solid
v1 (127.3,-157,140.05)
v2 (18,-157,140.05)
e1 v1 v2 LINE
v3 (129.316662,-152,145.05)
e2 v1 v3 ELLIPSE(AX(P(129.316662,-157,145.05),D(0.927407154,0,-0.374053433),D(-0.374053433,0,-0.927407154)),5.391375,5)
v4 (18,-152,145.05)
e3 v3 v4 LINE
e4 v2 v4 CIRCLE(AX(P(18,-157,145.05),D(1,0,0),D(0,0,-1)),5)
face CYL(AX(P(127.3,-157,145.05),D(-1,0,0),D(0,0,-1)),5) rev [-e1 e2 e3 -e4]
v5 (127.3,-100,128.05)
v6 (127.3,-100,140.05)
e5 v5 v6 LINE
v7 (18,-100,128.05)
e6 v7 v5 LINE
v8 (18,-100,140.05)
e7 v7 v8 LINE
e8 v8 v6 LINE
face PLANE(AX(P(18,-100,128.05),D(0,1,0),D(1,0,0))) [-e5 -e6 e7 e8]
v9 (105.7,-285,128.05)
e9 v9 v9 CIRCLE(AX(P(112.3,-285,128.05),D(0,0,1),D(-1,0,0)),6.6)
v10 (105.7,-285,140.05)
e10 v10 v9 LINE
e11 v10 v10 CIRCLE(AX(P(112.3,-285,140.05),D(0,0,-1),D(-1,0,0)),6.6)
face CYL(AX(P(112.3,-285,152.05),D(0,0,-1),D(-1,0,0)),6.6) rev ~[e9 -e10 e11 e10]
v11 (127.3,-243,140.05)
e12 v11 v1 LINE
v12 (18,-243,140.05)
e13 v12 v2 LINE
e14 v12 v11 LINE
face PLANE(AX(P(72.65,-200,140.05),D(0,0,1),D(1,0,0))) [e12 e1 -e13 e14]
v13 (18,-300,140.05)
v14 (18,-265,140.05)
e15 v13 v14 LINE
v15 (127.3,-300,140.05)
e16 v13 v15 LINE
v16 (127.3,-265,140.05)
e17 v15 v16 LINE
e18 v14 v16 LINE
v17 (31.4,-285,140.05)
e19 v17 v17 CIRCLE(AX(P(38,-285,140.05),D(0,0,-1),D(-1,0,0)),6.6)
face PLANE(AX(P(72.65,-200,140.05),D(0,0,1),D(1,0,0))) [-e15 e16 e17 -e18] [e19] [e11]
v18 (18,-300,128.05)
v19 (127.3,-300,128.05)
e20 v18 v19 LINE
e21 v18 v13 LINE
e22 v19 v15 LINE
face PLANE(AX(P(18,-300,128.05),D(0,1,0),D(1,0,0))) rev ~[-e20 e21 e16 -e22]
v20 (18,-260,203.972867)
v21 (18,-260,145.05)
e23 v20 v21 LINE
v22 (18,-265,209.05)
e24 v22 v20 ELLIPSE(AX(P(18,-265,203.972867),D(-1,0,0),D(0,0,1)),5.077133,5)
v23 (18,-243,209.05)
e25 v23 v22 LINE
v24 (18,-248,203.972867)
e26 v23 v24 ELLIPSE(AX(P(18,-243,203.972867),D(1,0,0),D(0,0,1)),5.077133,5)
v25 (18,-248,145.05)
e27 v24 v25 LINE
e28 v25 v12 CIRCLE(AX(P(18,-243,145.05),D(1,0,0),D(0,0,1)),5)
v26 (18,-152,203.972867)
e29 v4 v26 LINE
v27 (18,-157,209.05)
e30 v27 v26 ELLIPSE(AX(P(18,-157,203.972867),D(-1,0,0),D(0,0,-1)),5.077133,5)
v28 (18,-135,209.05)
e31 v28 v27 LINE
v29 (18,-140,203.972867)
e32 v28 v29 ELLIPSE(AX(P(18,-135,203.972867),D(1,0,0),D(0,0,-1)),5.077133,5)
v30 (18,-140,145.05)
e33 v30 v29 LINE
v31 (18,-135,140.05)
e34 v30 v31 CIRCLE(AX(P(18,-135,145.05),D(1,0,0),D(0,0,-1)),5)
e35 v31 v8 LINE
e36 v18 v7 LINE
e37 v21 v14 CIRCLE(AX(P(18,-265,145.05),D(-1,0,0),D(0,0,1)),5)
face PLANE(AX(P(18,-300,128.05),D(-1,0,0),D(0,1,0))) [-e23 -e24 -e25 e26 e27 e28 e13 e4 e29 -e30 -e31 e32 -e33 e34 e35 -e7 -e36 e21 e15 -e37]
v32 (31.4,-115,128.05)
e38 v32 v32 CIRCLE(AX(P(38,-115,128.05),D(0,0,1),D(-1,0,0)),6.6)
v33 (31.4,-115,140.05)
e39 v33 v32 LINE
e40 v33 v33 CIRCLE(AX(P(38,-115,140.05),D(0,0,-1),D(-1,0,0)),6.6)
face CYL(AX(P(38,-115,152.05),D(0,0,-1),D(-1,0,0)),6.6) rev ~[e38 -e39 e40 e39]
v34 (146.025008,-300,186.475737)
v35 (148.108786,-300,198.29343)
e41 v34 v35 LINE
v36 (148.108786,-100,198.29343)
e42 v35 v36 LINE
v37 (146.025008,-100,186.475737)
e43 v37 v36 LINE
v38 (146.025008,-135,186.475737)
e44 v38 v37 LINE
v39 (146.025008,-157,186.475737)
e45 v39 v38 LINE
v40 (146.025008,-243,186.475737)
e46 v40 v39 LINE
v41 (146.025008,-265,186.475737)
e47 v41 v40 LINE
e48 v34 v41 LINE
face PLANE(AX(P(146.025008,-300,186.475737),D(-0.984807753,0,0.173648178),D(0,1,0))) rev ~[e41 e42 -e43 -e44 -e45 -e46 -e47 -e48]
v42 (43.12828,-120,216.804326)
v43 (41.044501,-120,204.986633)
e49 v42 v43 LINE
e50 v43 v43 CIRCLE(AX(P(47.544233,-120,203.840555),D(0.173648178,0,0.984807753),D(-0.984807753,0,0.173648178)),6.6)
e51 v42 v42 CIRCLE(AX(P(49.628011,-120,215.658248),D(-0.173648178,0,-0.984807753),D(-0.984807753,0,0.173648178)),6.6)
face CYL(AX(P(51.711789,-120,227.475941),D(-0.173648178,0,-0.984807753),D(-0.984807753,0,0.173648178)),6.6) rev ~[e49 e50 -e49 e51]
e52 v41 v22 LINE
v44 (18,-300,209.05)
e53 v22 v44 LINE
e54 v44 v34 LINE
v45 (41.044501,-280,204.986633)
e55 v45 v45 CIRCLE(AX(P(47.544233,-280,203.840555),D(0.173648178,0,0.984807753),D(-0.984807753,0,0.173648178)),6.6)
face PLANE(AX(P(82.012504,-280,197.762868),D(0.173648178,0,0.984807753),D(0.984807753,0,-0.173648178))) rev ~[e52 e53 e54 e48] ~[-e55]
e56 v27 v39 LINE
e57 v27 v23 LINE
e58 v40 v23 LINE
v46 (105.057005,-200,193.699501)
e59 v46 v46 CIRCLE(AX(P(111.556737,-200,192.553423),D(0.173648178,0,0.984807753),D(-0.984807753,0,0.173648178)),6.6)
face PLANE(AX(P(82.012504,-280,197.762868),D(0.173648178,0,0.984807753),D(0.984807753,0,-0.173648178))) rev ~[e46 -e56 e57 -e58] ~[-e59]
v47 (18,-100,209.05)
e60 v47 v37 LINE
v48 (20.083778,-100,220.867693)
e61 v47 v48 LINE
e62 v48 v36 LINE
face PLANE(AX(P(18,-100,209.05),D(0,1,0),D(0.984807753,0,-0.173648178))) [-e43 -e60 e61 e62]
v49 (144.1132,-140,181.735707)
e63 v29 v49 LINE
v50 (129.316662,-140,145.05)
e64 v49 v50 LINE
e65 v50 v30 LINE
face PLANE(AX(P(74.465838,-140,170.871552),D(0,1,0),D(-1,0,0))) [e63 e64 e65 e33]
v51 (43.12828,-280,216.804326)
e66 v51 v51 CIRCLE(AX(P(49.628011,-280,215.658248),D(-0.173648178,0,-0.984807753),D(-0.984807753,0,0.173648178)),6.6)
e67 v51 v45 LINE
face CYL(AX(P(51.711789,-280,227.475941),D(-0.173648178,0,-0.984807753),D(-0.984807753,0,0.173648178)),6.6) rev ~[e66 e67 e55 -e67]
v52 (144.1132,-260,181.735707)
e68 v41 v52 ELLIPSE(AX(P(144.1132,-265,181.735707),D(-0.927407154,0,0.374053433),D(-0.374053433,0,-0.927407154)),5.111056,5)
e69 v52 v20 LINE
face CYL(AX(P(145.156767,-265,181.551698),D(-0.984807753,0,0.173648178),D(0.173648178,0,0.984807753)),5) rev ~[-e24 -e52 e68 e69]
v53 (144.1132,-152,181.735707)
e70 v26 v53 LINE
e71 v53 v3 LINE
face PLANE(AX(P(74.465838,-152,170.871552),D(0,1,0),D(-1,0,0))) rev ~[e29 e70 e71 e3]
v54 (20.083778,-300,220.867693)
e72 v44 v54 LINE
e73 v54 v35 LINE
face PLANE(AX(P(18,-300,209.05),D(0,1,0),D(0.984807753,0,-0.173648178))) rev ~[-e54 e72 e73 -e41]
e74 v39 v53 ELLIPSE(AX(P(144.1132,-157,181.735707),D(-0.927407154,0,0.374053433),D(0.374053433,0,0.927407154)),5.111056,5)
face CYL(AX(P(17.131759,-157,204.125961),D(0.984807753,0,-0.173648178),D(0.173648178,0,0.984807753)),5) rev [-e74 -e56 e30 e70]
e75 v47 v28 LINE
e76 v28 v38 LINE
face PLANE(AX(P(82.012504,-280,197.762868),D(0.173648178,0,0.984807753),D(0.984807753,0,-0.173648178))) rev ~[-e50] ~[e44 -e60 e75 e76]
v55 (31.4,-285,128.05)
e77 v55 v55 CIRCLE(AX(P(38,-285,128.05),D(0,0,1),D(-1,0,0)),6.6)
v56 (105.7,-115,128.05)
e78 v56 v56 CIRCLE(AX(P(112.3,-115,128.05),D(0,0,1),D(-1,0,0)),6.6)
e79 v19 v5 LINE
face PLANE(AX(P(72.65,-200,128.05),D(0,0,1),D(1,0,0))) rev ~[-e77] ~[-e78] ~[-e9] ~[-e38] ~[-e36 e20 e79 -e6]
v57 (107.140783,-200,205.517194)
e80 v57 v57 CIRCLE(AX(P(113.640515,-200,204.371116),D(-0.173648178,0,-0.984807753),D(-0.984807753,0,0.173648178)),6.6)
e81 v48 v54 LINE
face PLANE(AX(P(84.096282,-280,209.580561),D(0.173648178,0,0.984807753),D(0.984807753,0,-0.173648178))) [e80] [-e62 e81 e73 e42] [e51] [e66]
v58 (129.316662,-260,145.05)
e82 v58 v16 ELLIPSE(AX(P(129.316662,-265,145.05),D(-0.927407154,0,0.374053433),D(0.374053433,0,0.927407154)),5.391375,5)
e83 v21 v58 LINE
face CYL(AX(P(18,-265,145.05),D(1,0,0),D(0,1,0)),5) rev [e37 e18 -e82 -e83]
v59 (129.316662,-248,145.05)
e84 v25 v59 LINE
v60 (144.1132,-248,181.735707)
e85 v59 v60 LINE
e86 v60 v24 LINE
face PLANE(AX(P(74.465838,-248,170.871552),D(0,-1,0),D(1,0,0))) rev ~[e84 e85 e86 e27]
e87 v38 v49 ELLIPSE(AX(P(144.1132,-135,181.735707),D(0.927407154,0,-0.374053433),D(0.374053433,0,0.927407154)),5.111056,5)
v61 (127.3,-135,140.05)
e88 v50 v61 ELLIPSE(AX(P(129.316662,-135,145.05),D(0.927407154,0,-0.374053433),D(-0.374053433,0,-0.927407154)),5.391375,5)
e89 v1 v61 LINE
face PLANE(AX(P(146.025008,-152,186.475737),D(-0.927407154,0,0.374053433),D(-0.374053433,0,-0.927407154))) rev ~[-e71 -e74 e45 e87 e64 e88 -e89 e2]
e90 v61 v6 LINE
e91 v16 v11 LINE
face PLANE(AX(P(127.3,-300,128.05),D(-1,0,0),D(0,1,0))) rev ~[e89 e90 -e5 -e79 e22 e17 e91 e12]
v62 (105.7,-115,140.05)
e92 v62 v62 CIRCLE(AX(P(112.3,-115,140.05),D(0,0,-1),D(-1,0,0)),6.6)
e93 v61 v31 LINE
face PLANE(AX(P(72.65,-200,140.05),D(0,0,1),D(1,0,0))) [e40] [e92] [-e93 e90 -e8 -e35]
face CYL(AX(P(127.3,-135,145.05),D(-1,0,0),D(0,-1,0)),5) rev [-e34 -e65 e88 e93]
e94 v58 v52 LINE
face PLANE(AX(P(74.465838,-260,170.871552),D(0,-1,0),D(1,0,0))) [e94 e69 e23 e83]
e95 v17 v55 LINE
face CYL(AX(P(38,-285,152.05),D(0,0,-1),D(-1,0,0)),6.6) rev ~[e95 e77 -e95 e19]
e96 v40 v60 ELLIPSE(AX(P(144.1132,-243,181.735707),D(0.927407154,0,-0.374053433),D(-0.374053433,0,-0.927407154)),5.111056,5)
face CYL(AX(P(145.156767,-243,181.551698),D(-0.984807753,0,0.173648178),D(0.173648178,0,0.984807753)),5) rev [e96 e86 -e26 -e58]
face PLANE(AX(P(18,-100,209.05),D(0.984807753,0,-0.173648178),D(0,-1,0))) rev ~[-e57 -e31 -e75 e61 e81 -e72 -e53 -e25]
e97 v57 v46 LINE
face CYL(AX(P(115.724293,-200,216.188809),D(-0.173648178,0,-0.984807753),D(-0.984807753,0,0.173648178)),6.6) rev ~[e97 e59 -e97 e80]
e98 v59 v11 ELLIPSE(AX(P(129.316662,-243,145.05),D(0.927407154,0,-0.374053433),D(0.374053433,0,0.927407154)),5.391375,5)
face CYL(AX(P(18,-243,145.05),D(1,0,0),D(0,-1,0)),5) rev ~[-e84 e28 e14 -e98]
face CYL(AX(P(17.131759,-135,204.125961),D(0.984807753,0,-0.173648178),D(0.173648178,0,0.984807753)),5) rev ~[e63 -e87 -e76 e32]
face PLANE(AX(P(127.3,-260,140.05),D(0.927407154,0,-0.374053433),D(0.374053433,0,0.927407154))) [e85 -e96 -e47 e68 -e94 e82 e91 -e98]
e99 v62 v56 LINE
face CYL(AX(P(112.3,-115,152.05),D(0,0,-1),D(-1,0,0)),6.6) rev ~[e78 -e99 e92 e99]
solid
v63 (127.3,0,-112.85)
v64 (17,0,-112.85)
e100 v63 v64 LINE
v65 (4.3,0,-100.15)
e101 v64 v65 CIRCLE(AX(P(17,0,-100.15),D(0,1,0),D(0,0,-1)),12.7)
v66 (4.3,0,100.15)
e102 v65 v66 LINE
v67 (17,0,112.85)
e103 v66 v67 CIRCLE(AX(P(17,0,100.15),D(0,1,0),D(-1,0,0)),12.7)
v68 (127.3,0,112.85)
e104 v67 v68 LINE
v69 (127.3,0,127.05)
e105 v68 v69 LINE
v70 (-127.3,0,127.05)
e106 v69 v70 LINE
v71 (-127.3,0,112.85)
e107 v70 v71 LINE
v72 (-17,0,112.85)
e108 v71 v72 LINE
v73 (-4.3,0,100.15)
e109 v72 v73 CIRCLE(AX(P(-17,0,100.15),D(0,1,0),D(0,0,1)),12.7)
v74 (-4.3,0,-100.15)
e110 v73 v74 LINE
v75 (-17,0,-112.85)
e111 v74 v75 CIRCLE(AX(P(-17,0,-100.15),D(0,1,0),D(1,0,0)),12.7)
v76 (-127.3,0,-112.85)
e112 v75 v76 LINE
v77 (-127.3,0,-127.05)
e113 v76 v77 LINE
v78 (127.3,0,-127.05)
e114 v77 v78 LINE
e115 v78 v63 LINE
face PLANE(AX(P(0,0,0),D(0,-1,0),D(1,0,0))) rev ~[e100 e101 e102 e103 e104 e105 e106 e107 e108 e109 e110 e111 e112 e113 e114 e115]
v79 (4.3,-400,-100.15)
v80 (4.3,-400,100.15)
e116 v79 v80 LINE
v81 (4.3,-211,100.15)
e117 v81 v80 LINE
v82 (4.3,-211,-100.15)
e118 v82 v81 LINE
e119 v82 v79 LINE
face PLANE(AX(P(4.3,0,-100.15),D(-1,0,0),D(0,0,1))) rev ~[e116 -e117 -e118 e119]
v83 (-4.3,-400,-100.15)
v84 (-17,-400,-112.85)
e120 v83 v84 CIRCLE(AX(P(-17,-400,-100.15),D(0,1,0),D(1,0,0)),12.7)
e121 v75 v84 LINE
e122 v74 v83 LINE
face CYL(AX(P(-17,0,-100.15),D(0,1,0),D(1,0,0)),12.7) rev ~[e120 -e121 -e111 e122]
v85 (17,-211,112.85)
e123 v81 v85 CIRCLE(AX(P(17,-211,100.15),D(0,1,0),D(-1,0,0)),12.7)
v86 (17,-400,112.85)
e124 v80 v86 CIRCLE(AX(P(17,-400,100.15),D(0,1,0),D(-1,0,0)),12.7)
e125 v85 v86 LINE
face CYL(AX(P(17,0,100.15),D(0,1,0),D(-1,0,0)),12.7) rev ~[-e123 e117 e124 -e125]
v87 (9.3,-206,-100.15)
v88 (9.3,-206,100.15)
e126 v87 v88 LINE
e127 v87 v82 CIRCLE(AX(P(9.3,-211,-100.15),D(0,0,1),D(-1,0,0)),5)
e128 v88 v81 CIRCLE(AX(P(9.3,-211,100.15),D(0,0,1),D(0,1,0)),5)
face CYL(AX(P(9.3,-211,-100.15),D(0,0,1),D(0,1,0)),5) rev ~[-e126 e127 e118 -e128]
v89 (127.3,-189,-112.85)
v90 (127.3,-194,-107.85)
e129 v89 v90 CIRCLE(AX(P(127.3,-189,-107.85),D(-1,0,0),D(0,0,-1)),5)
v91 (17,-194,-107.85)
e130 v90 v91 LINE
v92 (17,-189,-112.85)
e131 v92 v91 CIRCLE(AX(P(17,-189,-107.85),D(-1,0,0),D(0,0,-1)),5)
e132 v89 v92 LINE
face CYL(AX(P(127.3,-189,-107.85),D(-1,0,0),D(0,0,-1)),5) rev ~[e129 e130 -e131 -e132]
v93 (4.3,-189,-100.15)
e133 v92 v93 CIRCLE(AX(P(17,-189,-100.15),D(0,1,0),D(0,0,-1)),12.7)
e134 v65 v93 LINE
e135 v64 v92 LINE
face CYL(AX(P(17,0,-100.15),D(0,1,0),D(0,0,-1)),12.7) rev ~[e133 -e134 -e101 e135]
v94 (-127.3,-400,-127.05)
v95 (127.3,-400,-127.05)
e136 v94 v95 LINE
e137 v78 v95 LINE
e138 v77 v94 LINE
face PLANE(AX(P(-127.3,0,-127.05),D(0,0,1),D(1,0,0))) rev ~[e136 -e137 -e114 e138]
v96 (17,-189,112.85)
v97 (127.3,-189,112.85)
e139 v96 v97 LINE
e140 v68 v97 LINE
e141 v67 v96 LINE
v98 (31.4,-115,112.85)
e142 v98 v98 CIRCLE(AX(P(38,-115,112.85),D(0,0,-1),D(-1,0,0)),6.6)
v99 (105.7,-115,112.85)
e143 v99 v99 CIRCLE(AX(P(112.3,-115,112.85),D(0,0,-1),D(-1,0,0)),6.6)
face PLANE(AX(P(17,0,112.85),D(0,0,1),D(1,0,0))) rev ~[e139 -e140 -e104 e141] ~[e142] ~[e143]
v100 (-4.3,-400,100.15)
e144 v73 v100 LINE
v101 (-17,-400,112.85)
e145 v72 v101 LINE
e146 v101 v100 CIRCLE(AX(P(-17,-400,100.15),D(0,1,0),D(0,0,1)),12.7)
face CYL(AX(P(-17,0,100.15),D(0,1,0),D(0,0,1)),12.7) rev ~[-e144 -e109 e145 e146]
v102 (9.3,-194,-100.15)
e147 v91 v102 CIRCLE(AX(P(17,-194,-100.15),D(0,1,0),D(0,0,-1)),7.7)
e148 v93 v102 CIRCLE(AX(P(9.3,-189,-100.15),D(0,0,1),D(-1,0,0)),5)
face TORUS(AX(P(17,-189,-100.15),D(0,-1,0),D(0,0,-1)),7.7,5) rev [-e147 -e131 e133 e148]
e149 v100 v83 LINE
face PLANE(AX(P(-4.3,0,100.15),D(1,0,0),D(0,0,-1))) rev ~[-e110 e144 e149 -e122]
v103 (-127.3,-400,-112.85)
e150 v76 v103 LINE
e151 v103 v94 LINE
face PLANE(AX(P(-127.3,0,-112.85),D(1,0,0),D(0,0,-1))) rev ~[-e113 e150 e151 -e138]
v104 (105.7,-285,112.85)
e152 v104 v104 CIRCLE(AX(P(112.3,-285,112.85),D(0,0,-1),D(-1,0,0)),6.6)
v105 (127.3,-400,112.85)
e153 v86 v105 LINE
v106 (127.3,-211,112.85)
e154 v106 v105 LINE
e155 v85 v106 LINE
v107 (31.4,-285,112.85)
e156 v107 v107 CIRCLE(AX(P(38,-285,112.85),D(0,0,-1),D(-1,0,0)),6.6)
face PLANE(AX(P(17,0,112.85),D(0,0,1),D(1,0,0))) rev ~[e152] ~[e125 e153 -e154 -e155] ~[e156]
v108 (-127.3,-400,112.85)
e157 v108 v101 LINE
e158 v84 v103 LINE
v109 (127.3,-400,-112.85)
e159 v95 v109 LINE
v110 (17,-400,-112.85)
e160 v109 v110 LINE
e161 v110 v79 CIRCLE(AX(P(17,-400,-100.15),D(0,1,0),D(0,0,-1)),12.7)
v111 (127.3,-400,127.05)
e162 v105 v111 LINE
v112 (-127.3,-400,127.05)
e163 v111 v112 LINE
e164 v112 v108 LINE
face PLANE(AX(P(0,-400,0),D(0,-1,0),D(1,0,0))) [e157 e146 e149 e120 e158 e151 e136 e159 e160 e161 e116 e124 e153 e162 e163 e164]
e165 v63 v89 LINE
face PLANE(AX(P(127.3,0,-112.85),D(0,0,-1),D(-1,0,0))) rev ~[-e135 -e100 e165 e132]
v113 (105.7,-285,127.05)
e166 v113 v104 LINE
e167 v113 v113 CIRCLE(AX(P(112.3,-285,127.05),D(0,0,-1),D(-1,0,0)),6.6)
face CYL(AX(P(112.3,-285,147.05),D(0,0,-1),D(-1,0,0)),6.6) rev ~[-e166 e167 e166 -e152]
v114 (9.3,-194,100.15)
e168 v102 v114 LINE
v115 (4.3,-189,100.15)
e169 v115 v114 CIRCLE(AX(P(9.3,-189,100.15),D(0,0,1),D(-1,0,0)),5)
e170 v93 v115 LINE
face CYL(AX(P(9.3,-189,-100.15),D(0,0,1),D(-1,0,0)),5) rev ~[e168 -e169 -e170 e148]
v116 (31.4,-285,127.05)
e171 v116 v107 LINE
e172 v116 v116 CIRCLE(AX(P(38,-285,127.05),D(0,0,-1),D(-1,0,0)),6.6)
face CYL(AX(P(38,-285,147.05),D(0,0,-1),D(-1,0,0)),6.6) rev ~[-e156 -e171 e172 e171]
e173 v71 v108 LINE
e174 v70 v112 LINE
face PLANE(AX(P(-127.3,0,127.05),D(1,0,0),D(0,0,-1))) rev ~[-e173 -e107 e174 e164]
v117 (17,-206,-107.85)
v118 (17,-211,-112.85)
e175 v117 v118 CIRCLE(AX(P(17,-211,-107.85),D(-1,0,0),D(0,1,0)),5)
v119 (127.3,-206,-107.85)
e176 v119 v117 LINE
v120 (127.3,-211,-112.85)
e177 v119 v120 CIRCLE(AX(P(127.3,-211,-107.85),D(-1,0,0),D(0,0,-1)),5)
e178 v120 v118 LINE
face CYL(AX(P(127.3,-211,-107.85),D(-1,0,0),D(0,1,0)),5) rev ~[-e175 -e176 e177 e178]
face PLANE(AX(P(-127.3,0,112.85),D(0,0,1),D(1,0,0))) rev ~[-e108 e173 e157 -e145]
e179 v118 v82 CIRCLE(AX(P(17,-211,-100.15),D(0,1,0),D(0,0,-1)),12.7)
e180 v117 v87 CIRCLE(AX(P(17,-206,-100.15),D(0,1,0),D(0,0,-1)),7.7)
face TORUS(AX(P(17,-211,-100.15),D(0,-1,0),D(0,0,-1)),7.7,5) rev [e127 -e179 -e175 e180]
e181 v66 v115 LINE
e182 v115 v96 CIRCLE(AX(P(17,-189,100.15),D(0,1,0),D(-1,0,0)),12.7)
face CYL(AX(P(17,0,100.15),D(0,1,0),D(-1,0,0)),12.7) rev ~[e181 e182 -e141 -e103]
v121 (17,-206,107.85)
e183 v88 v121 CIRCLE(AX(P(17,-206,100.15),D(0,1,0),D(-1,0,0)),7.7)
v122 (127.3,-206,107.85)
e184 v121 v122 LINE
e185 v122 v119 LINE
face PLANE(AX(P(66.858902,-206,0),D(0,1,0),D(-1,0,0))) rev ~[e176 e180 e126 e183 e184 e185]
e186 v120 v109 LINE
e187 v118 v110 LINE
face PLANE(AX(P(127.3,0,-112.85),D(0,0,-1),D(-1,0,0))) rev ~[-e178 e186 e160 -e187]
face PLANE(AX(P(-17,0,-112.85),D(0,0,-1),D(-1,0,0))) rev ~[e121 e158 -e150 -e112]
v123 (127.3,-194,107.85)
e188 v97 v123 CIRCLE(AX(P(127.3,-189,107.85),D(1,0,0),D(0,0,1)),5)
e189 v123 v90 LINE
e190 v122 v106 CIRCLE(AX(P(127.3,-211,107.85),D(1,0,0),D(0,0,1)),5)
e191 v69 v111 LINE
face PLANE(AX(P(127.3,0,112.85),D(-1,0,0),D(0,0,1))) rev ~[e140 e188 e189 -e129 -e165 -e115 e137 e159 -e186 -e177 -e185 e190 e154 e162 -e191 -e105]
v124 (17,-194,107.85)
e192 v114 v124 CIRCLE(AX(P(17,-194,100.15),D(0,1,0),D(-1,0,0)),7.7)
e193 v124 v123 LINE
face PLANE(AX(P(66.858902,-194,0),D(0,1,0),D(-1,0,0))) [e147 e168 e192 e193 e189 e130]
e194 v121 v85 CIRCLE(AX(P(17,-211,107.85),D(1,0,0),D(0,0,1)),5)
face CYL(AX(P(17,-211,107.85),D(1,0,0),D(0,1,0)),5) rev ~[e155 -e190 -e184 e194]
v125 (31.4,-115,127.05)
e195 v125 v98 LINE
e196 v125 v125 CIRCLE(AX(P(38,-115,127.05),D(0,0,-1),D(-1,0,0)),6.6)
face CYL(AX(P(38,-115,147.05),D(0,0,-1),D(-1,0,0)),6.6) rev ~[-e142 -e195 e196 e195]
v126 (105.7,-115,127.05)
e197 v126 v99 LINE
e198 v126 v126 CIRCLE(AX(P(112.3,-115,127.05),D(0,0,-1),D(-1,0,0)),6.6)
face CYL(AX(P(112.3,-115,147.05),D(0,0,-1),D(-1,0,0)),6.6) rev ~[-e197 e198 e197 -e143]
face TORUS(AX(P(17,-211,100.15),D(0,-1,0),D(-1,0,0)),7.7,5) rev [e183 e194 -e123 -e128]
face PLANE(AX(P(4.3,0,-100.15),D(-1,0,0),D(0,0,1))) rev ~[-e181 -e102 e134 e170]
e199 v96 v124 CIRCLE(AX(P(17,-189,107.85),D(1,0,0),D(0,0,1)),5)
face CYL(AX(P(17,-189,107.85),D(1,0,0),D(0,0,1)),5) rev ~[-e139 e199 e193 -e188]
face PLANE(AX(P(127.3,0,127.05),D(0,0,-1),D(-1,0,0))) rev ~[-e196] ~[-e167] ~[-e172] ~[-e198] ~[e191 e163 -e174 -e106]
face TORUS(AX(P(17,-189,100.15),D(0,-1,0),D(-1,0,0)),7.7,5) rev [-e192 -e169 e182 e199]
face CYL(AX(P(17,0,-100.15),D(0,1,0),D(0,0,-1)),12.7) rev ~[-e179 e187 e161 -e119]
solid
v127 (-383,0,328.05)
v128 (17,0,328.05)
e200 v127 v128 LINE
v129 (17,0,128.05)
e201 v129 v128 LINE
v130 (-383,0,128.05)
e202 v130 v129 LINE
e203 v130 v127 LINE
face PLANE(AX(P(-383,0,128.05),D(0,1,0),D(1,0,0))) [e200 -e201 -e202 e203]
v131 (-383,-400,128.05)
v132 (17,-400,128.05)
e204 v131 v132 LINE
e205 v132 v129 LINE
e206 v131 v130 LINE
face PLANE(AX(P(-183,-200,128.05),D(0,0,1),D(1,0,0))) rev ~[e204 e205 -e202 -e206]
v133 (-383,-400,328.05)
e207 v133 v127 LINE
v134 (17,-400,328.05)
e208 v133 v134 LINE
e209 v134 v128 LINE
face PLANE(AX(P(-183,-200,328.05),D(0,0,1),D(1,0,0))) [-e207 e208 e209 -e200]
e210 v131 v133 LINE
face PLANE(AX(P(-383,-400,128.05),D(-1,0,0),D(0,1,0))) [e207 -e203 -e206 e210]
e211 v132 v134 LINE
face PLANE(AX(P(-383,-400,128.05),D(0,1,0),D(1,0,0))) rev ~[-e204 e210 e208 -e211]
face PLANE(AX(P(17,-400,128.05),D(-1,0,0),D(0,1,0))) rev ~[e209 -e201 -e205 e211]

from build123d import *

# Parameters (mm, degrees)
F1_DEPTH  = 400
F3_W      = 400
F3_H      = 400
F4_DEPTH  = 200
F5_W      = 109.3
F5_H      = 200
F6_DEPTH  = 12
F8_D      = 13.2
F8_DEPTH  = 12
F8_TIP    = 3.9656800856
F10_D     = 13.2
F10_DEPTH = 20
F10_TIP   = 3.9656800856
F15_DEPTH = 12
F16_W     = 130
F16_H     = 40
F16_H_2   = 12
F16_H_3   = 148
F17_DEPTH = 12
F18_R     = 5
F21_DEPTH = 6
F22_R     = 5
F24_D     = 13.2
F24_DEPTH = 12
F24_TIP   = 3.9656800856


with BuildPart() as f1:
    # F0 (on Front) → F1 (new body)
    with BuildSketch(Plane.XZ):
        with BuildLine():
            Line((127.3, 112.85), (127.3, 127.05))
            Line((127.3, 127.05), (-127.3, 127.05))
            Line((-127.3, 127.05), (-127.3, 112.85))
            Line((-127.3, 112.85), (-17, 112.85))
            ThreePointArc((-17, 112.85), (-8.0197438789, 109.1302561211), (-4.3, 100.15))
            Line((-4.3, 100.15), (-4.3, -100.15))
            ThreePointArc((-4.3, -100.15), (-8.0197438789, -109.1302561211), (-17, -112.85))
            Line((-17, -112.85), (-127.3, -112.85))
            Line((-127.3, -112.85), (-127.3, -127.05))
            Line((-127.3, -127.05), (127.3, -127.05))
            Line((127.3, -127.05), (127.3, -112.85))
            Line((127.3, -112.85), (17, -112.85))
            ThreePointArc((17, -112.85), (8.0197438789, -109.1302561211), (4.3, -100.15))
            Line((4.3, -100.15), (4.3, 100.15))
            ThreePointArc((4.3, 100.15), (8.0197438789, 109.1302561211), (17, 112.85))
            Line((17, 112.85), (127.3, 112.85))
        make_face()
    extrude(amount=F1_DEPTH)

    # F10
    with Locations(Plane.XY.offset(127.05)):
        with Locations((38, -285), (38, -115), (112.3, -285), (112.3, -115)):
            Hole(F10_D / 2, depth=F10_DEPTH)
            with Locations((0, 0, -(F10_DEPTH + F10_TIP / 2))):  # 118° drill point
                Cone(0, F10_D / 2, F10_TIP, mode=Mode.SUBTRACT)

    # F20 (on mid) → F21 (join, symmetric)
    with BuildSketch(Plane(origin=(0, -200, 0), x_dir=(-1, 0, 0), z_dir=(0, 1, 0))):
        with BuildLine():
            Line((-17, 112.85), (-127.3, 112.85))
            Line((-127.3, 112.85), (-127.3, -112.85))
            Line((-127.3, -112.85), (-17, -112.85))
            ThreePointArc((-17, -112.85), (-8.0197438789, -109.1302561211), (-4.3, -100.15))
            Line((-4.3, -100.15), (-4.3, 100.15))
            ThreePointArc((-4.3, 100.15), (-8.0197438789, 109.1302561211), (-17, 112.85))
        make_face()
    extrude(amount=F21_DEPTH, both=True)

    # F22
    f22_edges = [f1.edges().sort_by_distance(p)[0] for p in [
        (72.15, -194, 112.85),
        (4.3, -206, 0),
    ]]
    fillet(f22_edges, radius=F22_R)


with BuildPart() as f4:
    # F3 (on offset) → F4 (new body)
    with BuildSketch(Plane.XY.offset(128.05)):
        with Locations((-183, -200)):
            Rectangle(F3_W, F3_H)
    extrude(amount=F4_DEPTH)


with BuildPart() as f6:
    # F5 (on offset) → F6 (new body)
    with BuildSketch(Plane.XY.offset(128.05)):
        with Locations((72.65, -200)):
            Rectangle(F5_W, F5_H)
    extrude(amount=F6_DEPTH)

    # F8
    with Locations(Plane.XY.offset(140.05)):
        with Locations((38, -285), (112.3, -285), (38, -115), (112.3, -115)):
            Hole(F8_D / 2, depth=F8_DEPTH)
            with Locations((0, 0, -(F8_DEPTH + F8_TIP / 2))):  # 118° drill point
                Cone(0, F8_D / 2, F8_TIP, mode=Mode.SUBTRACT)

    # F12 (on offset) + F14 (on offset) → F15 (join)
    with BuildSketch(Plane(origin=(0, -152, 0), x_dir=(-1, 0, 0), z_dir=(0, 1, 0))):
        Polygon((-127.3, 140.05), (-18, 140.05), (-18, 209.05), (-146.0250078916, 186.4757369033), align=None)
    with BuildSketch(Plane.XZ.offset(260)):
        Polygon((18, 209.05), (18, 140.05), (127.3, 140.05), (146.0250078916, 186.4757369033), align=None)
    extrude(amount=F15_DEPTH, dir=(0, 1, 0))

    # F16 (on face) → F17 (join)
    with BuildSketch(Plane(origin=(36.292421894, 0, 205.8245524776), x_dir=(0.984807753, 0, -0.1736481777), z_dir=(0.1736481777, 0, 0.984807753))):
        with Locations((46.4253880129, -280)):
            Rectangle(F16_W, F16_H)
        with Locations((46.4253880129, -254)):
            Rectangle(F16_W, F16_H_2)
        with Locations((46.4253880129, -174)):
            Rectangle(F16_W, F16_H_3)
    extrude(amount=F17_DEPTH)

    # F18
    f18_edges = [f6.edges().sort_by_distance(p)[0] for p in [
        (72.65, -260, 140.05),
        (72.65, -248, 140.05),
        (72.65, -140, 140.05),
        (72.65, -152, 140.05),
        (82.012504, -260, 197.762868),
        (82.012504, -248, 197.762868),
        (82.012504, -140, 197.762868),
        (82.012504, -152, 197.762868),
    ]]
    fillet(f18_edges, radius=F18_R)

    # F24
    with Locations(Plane(origin=(38.376200026, 0, 217.6422455137), x_dir=(0.984807753, 0, -0.1736481777), z_dir=(0.1736481777, 0, 0.984807753))):
        with Locations((76.4253880129, -200), (11.4253880129, -280), (11.4253880129, -120)):
            Hole(F24_D / 2, depth=F24_DEPTH)
            with Locations((0, 0, -(F24_DEPTH + F24_TIP / 2))):  # 118° drill point
                Cone(0, F24_D / 2, F24_TIP, mode=Mode.SUBTRACT)


solid = Compound([f1.part, f4.part, f6.part])
